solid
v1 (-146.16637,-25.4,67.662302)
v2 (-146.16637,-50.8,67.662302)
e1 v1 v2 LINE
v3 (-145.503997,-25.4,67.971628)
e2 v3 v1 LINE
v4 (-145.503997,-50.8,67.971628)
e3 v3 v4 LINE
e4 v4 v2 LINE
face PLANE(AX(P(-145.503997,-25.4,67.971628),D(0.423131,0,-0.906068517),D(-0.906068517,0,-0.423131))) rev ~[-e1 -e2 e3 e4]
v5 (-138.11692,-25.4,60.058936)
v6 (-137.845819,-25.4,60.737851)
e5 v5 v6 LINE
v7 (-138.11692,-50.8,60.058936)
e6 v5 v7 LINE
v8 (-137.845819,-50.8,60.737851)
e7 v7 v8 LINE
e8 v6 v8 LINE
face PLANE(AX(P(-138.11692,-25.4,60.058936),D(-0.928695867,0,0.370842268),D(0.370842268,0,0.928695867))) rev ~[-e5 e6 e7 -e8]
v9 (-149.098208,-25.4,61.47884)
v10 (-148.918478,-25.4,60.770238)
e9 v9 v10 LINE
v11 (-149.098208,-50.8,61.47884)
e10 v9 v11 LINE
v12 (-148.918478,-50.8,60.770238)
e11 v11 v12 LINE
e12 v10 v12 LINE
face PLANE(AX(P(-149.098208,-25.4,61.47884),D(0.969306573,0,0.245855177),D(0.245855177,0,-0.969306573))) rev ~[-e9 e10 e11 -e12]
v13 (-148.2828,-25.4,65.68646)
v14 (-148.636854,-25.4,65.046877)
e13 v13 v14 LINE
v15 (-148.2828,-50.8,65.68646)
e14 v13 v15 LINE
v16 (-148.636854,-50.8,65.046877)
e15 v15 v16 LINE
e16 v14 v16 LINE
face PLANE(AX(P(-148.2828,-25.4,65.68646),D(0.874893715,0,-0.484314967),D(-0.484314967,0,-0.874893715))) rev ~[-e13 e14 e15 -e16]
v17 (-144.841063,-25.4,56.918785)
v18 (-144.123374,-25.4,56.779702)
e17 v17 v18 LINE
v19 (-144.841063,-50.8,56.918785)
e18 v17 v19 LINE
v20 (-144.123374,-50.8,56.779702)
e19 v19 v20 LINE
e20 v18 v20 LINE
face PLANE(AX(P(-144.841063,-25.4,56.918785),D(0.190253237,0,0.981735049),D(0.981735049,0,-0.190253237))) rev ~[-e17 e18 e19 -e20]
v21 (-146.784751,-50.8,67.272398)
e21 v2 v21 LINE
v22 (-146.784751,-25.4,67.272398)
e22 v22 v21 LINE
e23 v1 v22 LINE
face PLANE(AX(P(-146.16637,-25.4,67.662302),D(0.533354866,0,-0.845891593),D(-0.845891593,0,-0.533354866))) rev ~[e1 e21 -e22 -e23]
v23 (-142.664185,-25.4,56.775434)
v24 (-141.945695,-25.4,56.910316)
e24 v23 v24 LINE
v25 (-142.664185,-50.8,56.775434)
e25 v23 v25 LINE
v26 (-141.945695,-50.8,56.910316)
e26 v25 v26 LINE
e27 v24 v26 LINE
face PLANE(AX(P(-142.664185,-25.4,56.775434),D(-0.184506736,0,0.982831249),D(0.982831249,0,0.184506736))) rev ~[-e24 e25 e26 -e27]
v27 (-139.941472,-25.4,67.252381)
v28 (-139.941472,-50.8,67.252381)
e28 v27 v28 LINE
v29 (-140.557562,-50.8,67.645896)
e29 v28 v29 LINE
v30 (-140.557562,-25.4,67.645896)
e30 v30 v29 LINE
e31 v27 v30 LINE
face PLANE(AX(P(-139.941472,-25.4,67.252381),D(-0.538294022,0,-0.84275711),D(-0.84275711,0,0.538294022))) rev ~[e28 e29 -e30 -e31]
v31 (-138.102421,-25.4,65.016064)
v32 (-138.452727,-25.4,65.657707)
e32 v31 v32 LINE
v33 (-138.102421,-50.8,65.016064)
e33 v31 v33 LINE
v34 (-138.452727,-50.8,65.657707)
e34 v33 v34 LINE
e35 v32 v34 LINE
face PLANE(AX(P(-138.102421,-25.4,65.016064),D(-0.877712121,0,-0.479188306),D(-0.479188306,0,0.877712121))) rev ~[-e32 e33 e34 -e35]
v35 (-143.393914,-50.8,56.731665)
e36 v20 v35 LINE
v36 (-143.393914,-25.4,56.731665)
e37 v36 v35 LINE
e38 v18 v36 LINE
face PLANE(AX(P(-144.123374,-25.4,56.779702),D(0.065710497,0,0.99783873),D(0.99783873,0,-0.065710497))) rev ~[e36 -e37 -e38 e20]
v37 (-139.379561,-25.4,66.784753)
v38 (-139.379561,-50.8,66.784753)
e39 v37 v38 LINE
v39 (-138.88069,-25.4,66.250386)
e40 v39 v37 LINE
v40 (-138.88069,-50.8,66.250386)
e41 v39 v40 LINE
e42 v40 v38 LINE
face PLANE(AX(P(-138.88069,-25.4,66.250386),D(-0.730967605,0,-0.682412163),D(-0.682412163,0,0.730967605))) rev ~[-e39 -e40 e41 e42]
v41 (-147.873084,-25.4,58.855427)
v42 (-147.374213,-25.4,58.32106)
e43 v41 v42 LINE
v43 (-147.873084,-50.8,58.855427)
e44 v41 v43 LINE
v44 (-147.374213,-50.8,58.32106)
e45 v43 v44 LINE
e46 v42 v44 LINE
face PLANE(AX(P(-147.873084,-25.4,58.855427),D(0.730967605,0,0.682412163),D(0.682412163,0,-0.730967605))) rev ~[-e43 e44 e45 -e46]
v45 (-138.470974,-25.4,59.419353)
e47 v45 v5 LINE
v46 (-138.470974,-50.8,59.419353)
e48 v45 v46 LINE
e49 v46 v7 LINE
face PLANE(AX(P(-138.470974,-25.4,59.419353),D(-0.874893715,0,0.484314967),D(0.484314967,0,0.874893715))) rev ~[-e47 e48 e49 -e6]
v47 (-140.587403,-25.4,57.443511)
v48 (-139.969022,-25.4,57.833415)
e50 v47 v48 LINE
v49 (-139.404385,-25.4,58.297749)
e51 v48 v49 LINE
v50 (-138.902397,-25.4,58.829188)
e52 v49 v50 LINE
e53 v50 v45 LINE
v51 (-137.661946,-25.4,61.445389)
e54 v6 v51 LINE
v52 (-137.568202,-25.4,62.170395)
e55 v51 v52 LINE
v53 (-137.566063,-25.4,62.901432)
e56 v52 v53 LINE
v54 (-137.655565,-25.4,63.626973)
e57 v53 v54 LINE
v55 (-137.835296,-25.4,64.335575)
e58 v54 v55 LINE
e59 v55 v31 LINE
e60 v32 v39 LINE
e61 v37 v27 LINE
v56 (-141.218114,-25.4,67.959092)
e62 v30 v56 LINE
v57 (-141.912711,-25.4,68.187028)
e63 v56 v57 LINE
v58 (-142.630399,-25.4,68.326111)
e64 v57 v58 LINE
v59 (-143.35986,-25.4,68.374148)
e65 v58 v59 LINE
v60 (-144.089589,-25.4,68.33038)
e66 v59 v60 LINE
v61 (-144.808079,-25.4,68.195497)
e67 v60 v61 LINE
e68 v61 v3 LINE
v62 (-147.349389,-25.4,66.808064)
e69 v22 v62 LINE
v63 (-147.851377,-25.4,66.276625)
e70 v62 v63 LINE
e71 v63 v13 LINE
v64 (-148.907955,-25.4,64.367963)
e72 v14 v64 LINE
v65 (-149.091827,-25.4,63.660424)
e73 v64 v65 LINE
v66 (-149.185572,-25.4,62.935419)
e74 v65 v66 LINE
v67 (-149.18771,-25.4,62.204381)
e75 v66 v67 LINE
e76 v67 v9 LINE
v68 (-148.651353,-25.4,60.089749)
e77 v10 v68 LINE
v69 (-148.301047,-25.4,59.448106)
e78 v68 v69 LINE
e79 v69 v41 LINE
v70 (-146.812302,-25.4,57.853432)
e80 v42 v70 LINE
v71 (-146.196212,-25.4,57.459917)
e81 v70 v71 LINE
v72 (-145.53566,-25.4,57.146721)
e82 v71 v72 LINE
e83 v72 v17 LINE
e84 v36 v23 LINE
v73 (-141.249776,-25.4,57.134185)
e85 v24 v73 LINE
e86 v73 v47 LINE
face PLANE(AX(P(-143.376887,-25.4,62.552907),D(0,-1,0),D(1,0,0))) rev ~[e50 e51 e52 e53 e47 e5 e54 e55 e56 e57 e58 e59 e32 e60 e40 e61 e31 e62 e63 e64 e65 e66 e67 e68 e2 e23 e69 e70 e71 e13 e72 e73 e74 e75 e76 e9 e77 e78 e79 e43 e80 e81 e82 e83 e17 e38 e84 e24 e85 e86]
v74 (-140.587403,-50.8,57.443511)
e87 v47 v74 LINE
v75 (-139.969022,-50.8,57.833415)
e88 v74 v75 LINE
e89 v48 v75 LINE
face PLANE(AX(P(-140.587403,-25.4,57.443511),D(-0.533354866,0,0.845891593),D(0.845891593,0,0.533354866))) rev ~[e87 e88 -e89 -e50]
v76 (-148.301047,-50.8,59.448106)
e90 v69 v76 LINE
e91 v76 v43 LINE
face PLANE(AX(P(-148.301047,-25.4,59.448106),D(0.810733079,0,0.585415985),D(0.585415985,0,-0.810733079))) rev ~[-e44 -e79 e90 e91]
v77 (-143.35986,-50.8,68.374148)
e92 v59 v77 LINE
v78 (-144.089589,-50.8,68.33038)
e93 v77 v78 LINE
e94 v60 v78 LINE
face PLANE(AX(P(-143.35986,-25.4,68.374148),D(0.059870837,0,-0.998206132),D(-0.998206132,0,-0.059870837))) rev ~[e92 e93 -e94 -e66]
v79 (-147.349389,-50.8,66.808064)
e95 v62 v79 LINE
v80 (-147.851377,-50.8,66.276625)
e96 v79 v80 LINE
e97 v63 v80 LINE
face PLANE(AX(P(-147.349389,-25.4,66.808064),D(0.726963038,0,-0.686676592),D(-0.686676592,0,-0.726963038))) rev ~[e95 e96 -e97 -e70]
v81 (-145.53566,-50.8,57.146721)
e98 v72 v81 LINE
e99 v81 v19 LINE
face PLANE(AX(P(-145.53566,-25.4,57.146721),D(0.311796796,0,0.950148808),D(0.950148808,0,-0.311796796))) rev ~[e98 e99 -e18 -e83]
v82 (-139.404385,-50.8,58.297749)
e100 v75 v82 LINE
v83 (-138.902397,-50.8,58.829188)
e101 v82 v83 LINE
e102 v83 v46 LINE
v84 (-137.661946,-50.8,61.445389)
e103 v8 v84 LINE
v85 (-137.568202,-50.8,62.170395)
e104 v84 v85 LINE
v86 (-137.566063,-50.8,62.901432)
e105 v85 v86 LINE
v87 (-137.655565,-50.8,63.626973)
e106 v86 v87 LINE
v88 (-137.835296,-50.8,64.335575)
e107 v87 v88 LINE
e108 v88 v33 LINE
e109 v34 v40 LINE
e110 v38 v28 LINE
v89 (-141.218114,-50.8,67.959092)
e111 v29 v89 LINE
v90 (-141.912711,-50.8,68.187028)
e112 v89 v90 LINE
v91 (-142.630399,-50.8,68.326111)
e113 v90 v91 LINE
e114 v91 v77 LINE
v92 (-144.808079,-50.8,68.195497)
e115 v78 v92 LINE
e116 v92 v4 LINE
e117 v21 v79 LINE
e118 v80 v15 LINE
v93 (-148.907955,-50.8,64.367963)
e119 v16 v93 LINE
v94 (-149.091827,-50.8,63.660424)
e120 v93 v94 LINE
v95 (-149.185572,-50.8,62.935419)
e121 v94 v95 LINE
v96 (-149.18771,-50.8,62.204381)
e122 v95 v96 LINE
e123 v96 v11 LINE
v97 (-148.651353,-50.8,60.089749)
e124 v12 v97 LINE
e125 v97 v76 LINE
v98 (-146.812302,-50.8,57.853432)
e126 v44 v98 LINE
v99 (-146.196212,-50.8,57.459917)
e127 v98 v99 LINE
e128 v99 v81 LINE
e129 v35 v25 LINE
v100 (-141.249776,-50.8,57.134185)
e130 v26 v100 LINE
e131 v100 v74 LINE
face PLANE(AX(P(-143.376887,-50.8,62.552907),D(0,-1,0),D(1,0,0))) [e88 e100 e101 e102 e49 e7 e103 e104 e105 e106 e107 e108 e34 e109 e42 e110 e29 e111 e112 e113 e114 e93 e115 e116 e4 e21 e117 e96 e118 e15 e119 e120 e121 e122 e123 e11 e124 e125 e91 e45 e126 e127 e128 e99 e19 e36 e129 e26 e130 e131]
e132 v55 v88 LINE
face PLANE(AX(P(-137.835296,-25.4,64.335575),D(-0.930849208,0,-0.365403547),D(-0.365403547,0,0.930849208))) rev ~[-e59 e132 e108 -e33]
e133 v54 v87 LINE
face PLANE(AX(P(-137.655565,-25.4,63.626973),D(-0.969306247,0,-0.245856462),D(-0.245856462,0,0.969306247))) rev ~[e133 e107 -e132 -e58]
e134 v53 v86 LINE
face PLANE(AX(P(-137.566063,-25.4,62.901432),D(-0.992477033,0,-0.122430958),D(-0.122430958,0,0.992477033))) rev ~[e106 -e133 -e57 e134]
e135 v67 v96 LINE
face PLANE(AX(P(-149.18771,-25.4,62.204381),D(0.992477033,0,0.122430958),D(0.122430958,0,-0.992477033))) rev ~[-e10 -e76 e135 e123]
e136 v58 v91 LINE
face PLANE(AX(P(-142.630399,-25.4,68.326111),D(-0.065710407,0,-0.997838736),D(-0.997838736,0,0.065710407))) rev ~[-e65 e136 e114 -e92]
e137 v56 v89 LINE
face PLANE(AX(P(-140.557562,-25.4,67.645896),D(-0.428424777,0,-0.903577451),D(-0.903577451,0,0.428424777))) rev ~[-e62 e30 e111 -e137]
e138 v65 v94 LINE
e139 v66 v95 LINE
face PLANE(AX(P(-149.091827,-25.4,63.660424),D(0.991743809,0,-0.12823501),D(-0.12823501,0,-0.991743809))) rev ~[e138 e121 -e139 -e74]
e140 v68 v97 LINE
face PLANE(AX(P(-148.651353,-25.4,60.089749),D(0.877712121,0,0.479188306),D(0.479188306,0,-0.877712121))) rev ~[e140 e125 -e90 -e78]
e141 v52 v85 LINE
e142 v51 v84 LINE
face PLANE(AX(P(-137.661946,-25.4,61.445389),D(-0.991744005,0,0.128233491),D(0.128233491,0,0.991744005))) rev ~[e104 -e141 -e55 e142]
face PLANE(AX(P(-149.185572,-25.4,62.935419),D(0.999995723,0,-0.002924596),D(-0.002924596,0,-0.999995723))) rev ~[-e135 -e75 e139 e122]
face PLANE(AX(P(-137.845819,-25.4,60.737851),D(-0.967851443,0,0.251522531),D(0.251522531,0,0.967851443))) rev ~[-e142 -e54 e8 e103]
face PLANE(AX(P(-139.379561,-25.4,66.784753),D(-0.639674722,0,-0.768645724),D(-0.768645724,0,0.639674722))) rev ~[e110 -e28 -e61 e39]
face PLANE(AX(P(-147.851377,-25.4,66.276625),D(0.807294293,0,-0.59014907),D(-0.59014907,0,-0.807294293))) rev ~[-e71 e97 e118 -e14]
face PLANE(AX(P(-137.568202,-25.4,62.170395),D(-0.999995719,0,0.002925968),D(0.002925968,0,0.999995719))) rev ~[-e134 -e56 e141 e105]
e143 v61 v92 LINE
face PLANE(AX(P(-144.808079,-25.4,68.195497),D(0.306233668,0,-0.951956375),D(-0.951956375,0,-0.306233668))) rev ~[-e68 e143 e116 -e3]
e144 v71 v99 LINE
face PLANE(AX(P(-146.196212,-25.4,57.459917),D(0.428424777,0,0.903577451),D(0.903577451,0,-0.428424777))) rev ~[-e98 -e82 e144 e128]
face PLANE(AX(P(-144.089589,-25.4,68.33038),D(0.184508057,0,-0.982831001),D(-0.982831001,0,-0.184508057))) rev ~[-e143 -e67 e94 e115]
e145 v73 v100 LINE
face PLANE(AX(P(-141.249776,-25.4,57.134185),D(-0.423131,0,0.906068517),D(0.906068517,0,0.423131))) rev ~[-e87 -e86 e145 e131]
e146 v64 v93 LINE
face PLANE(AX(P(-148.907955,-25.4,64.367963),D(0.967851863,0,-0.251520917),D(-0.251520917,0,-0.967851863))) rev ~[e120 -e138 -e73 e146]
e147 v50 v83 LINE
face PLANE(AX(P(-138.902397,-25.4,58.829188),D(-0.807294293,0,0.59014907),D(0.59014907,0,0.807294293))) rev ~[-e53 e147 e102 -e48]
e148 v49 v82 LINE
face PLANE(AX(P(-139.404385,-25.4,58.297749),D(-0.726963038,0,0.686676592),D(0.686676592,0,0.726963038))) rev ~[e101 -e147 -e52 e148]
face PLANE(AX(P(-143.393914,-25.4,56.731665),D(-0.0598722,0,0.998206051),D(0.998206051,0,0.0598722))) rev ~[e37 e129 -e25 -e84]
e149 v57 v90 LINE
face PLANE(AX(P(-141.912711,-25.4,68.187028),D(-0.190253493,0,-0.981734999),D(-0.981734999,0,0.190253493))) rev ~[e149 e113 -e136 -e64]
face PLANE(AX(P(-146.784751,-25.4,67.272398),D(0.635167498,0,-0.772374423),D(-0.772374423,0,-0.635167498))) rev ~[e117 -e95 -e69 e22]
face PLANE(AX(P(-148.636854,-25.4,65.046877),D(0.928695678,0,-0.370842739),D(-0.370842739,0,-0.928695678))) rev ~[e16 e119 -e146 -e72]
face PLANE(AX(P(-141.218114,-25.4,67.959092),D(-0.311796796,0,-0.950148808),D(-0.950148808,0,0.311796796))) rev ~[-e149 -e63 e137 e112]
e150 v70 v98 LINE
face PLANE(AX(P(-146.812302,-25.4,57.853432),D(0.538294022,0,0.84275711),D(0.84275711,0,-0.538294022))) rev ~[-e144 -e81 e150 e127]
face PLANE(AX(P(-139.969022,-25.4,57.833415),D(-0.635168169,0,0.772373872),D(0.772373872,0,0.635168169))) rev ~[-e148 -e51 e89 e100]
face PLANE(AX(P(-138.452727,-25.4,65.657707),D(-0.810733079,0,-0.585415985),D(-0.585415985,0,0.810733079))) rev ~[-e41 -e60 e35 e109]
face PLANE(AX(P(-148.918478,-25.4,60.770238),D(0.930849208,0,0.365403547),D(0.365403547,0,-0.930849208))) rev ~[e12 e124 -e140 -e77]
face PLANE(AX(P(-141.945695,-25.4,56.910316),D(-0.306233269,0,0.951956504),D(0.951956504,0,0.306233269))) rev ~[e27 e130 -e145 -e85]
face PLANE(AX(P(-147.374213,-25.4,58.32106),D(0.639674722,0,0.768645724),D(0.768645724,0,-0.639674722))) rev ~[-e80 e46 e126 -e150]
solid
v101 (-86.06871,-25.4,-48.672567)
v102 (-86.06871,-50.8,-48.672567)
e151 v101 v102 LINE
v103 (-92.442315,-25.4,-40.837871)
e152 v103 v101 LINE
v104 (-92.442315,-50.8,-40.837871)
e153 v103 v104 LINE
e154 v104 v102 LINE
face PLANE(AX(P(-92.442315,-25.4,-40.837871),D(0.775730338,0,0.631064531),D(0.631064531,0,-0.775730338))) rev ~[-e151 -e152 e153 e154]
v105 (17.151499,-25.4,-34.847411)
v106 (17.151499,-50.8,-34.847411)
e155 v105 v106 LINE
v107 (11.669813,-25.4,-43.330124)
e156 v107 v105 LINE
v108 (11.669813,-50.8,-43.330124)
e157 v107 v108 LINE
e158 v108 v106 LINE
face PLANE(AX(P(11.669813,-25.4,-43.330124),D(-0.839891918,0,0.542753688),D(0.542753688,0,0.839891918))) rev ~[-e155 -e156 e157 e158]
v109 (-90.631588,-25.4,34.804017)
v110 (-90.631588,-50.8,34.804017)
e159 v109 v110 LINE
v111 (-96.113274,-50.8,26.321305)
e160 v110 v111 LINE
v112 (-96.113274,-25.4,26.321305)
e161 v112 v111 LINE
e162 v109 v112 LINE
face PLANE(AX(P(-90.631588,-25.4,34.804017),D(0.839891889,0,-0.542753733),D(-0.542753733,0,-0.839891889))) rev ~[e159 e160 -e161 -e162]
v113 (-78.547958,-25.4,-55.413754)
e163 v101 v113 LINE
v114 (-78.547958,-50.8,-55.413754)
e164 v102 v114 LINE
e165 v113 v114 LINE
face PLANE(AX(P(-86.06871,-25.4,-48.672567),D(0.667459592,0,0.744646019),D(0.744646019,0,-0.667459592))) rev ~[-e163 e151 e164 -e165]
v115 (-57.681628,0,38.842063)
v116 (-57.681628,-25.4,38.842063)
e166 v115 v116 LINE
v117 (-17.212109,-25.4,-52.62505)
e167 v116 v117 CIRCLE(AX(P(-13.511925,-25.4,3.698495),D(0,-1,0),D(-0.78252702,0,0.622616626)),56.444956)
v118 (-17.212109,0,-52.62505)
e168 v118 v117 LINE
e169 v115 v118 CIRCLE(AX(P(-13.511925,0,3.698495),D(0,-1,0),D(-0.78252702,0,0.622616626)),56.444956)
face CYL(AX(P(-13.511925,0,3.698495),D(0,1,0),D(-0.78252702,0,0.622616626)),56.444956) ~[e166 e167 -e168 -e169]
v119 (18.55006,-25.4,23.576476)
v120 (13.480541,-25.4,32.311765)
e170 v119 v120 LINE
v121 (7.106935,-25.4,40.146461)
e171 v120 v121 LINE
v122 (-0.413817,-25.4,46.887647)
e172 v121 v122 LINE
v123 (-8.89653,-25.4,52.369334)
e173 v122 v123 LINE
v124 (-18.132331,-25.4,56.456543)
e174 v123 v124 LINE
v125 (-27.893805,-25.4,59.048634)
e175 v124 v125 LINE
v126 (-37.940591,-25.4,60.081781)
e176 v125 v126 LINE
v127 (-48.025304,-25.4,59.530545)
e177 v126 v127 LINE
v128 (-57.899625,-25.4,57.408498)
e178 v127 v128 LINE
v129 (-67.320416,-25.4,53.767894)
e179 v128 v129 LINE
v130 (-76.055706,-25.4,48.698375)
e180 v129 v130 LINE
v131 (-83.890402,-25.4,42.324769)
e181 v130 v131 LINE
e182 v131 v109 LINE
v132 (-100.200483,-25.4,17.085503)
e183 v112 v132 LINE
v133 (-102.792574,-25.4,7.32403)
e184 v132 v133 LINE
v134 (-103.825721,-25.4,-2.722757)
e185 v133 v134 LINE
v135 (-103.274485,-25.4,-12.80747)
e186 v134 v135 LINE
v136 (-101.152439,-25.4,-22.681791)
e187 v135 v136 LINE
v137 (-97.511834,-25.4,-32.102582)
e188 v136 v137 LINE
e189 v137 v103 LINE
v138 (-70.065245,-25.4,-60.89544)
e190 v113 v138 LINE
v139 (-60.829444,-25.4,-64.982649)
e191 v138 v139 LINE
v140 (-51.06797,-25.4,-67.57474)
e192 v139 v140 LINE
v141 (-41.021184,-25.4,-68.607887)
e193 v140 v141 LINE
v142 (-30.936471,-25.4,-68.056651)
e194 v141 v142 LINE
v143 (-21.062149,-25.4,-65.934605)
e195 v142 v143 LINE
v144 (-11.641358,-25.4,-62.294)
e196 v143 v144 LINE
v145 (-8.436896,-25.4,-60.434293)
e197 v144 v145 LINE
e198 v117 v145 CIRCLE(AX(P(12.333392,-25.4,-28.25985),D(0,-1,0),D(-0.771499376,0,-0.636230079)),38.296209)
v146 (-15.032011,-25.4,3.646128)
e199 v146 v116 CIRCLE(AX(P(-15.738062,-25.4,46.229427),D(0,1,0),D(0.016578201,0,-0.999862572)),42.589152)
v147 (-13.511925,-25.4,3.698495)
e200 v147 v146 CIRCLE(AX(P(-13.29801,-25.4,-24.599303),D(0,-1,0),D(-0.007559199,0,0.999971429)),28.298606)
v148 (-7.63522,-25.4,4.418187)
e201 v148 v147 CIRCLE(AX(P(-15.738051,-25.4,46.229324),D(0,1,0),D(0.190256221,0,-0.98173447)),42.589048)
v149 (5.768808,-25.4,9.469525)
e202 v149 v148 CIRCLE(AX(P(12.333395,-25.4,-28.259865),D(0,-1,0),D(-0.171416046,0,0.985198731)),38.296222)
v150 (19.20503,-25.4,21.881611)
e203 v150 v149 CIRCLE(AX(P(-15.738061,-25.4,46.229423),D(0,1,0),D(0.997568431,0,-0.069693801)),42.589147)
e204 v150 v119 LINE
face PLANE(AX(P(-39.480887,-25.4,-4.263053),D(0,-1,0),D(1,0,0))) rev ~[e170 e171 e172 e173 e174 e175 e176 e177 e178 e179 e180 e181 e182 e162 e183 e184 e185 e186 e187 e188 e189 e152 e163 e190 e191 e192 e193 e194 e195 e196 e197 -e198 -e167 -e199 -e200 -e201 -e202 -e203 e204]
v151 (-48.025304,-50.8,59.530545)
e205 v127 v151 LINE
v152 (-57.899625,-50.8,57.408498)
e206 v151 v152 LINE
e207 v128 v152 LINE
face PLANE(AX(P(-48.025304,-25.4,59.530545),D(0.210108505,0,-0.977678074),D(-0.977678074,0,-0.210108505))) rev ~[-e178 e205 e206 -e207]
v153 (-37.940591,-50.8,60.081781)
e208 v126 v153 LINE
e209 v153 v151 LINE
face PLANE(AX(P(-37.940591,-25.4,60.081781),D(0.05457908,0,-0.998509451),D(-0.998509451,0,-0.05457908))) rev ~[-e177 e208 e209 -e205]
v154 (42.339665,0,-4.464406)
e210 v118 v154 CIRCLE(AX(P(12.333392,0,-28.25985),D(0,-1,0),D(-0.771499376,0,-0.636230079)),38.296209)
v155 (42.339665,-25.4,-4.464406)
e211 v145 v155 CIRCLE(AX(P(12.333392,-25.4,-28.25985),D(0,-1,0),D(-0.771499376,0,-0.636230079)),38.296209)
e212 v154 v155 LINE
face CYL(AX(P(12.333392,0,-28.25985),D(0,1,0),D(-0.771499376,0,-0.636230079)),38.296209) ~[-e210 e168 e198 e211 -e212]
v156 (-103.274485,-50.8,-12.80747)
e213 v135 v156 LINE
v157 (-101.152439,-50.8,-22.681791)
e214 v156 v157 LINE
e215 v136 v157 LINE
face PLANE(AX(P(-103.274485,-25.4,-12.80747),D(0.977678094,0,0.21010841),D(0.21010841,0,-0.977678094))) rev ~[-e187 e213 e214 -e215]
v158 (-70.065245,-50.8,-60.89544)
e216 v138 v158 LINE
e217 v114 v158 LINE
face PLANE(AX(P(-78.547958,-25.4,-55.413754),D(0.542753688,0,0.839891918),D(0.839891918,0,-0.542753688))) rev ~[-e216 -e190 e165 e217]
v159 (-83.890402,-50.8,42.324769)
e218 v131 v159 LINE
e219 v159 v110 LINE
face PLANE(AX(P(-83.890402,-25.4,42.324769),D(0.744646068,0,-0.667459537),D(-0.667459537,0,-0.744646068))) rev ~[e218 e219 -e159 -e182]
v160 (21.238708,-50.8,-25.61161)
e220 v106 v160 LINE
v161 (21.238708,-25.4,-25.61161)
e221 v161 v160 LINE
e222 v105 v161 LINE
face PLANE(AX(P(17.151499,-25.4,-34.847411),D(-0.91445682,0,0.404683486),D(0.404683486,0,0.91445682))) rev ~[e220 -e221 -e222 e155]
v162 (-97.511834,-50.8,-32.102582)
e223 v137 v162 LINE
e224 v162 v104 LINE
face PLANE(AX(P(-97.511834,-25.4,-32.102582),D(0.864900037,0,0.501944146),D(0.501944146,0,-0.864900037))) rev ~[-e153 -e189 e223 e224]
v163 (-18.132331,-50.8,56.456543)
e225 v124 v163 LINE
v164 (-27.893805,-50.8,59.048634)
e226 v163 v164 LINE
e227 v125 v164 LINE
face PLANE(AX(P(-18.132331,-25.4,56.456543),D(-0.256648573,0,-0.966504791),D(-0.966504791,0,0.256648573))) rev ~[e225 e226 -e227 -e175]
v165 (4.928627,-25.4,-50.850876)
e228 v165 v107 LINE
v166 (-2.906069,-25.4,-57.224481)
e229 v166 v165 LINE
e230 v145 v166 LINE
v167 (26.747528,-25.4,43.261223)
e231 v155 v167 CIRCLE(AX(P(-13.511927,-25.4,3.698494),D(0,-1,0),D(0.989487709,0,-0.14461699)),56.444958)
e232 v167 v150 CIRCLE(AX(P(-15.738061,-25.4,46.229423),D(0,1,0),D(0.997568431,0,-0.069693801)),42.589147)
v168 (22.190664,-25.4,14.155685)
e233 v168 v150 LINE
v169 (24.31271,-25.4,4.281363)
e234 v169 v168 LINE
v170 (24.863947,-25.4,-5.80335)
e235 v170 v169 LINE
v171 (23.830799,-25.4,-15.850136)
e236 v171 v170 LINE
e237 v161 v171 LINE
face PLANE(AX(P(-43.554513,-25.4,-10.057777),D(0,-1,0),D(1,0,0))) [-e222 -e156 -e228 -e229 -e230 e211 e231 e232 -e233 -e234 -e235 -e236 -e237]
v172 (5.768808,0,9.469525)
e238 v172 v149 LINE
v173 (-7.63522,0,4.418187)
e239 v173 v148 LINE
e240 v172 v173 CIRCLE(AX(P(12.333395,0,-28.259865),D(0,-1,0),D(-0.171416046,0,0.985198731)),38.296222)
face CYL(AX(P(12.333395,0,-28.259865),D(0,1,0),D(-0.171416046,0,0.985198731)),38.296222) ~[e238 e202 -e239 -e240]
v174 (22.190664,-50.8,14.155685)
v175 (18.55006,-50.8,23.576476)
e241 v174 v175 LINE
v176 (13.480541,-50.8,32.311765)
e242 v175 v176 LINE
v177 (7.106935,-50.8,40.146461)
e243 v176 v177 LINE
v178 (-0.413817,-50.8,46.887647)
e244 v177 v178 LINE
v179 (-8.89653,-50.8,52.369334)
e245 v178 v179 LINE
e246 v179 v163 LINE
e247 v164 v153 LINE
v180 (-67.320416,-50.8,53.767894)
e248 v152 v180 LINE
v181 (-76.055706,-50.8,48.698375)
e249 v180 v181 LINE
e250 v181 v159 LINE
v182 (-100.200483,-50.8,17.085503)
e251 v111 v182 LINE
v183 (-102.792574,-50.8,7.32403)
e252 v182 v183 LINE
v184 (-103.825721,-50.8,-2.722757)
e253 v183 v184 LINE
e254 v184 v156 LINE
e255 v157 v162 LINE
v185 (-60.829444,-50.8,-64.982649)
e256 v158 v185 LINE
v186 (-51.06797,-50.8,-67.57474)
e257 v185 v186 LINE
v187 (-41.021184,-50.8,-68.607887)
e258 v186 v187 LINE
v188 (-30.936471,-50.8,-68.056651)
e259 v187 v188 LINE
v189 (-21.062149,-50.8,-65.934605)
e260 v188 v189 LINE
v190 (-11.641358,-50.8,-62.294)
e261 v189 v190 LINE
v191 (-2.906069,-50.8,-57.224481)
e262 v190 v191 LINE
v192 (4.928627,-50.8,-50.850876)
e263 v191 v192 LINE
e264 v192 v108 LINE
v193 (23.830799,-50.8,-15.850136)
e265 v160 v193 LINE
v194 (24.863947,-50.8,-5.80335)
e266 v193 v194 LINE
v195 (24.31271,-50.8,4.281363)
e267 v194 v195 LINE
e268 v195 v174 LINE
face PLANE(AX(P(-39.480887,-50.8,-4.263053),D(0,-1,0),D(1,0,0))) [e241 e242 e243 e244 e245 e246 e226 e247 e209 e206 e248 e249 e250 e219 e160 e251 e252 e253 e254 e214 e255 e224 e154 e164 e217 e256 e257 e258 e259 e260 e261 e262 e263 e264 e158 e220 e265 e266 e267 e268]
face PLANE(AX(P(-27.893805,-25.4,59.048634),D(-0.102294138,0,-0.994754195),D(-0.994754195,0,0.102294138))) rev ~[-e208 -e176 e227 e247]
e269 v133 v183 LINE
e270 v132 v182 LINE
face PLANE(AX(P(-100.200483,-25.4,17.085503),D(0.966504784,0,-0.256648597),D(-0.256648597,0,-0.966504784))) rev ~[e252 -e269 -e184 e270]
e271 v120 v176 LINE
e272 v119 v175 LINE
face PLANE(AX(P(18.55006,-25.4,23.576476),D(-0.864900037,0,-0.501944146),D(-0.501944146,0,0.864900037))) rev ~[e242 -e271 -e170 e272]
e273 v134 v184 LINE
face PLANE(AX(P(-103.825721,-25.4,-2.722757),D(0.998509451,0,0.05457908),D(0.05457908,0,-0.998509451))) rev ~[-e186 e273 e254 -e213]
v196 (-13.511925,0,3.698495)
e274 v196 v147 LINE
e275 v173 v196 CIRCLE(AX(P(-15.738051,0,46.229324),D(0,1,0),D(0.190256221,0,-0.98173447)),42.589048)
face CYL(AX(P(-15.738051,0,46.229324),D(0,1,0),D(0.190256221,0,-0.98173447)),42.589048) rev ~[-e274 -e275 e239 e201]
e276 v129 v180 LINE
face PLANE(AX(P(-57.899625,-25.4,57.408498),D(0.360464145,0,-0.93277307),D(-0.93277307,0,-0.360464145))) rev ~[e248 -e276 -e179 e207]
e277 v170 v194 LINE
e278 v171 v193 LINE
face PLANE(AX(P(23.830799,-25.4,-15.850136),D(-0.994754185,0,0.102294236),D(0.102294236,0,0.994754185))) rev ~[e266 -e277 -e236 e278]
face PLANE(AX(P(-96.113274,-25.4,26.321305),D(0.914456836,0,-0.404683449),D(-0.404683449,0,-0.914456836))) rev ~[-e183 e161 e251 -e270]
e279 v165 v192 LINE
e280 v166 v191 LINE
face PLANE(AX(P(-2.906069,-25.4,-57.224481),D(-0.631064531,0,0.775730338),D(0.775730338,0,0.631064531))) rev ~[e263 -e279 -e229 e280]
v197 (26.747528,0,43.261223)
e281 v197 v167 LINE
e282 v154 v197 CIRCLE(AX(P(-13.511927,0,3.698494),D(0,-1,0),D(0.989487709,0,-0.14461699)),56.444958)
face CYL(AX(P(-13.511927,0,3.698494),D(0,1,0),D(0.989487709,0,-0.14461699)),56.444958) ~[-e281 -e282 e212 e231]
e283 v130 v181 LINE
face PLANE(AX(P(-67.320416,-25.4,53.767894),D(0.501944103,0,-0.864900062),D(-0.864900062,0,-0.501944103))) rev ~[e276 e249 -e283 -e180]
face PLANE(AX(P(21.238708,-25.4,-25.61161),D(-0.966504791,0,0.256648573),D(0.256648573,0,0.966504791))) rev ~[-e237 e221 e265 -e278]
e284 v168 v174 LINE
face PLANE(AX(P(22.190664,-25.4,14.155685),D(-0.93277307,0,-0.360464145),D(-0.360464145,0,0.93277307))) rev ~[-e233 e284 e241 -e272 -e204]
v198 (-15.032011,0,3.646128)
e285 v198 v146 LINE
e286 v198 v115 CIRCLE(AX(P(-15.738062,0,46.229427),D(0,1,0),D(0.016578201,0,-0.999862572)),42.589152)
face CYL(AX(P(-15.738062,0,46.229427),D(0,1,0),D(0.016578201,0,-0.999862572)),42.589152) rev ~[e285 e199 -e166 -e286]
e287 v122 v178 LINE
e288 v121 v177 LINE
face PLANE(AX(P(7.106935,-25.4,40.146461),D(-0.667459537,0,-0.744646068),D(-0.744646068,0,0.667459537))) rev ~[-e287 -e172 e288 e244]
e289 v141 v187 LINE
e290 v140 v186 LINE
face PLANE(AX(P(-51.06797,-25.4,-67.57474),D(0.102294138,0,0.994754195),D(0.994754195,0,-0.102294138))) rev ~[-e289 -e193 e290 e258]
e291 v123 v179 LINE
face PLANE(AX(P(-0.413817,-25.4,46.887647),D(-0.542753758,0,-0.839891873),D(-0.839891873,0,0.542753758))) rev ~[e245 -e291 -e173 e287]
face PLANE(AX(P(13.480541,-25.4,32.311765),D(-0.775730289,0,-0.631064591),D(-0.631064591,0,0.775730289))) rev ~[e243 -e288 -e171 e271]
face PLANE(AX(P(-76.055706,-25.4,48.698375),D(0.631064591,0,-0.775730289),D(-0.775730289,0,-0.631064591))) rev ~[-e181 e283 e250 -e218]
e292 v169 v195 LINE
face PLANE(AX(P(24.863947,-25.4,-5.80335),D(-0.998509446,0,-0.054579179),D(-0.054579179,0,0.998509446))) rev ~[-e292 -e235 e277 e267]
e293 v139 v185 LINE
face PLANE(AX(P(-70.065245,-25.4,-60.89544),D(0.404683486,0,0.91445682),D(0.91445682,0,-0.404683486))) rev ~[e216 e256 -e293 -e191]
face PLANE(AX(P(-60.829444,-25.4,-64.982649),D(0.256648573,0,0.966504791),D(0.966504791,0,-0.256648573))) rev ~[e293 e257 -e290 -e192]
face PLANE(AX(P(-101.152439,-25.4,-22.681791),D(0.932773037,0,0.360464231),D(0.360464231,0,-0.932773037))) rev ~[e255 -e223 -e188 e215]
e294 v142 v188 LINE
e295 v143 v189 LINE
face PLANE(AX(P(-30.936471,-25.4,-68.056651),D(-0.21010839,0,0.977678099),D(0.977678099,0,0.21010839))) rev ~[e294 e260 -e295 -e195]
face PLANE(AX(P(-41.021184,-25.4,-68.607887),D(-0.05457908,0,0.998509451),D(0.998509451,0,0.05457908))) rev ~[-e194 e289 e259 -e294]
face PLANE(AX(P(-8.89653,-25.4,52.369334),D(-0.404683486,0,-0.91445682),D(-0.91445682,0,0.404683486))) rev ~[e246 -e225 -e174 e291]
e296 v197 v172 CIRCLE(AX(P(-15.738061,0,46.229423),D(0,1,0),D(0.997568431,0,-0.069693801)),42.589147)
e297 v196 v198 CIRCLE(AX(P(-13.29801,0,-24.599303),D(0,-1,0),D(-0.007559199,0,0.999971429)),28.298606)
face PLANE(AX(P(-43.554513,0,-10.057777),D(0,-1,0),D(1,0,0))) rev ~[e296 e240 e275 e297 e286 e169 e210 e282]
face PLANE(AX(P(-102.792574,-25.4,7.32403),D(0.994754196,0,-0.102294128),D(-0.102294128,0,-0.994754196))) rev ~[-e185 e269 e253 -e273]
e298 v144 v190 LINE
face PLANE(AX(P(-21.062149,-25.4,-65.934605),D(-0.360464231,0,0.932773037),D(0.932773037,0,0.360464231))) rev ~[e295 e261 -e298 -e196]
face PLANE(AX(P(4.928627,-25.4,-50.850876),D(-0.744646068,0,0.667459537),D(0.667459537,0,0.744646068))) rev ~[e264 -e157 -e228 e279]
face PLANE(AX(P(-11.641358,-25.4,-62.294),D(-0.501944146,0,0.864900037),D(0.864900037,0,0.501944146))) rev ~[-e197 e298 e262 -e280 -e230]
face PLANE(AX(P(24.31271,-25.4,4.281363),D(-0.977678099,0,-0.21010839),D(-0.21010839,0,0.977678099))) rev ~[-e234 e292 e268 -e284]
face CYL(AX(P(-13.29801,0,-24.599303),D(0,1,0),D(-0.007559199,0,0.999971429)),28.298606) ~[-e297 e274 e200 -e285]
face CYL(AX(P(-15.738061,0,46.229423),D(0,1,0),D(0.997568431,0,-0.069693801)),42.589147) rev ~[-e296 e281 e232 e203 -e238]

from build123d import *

# Parameters (mm, degrees)
F1_DEPTH = 25.4
F3_DEPTH = 25.4


with BuildPart() as f1:
    # F0 (on Front) → F1 (new body)
    with BuildSketch(Plane.XZ):
        with BuildLine():
            ThreePointArc((-15.032011, 3.646128), (-42.845656, 13.381075), (-57.681628, 38.842063))
            ThreePointArc((-57.681628, 38.842063), (-65.130136, -19.139923), (-17.212109, -52.62505))
            ThreePointArc((-17.212109, -52.62505), (-41.574986, -23.503346), (-15.032011, 3.646128))
        make_face()
        with BuildLine():
            ThreePointArc((-15.032011, 3.646128), (-41.574986, -23.503346), (-17.212109, -52.62505))
            ThreePointArc((-17.212109, -52.62505), (21.981795, -40.190329), (42.339665, -4.464406))
            ThreePointArc((42.339665, -4.464406), (25.968523, 7.526778), (5.768808, 9.469525))
            ThreePointArc((5.768808, 9.469525), (-0.719315, 6.376283), (-7.63522, 4.418187))
            ThreePointArc((-7.63522, 4.418187), (-10.561051, 3.956097), (-13.511925, 3.698495))
            ThreePointArc((-13.511925, 3.698495), (-14.271734, 3.665525), (-15.032011, 3.646128))
        make_face()
        with BuildLine():
            ThreePointArc((42.339665, -4.464406), (21.981795, -40.190329), (-17.212109, -52.62505))
            ThreePointArc((-17.212109, -52.62505), (36.414816, -58.0371), (42.339665, -4.464406))
        make_face()
        with BuildLine():
            ThreePointArc((-13.511925, 3.698495), (-14.27232, 3.682526), (-15.032011, 3.646128))
            ThreePointArc((-15.032011, 3.646128), (-14.271734, 3.665525), (-13.511925, 3.698495))
        make_face()
        with BuildLine():
            ThreePointArc((5.768808, 9.469525), (25.968523, 7.526778), (42.339665, -4.464406))
            ThreePointArc((42.339665, -4.464406), (40.142218, 21.227498), (26.747528, 43.261223))
            ThreePointArc((26.747528, 43.261223), (20.4452, 23.765961), (5.768808, 9.469525))
        make_face()
        with BuildLine():
            ThreePointArc((-7.63522, 4.418187), (-0.719315, 6.376283), (5.768808, 9.469525))
            ThreePointArc((5.768808, 9.469525), (-1.171482, 7.576136), (-7.63522, 4.418187))
        make_face()
    extrude(amount=F1_DEPTH)

    # F2 (on face) → F3 (join)
    with BuildSketch(Plane.XZ.offset(25.4)):
        Polygon((-21.062149, -65.934605), (-11.641358, -62.294), (-2.906069, -57.224481), (4.928627, -50.850876), (11.669813, -43.330124), (17.151499, -34.847411), (21.238708, -25.61161), (23.830799, -15.850136), (24.863947, -5.80335), (24.31271, 4.281363), (22.190664, 14.155685), (18.55006, 23.576476), (13.480541, 32.311765), (7.106935, 40.146461), (-0.413817, 46.887647), (-8.89653, 52.369334), (-18.132331, 56.456543), (-27.893805, 59.048634), (-37.940591, 60.081781), (-48.025304, 59.530545), (-57.899625, 57.408498), (-67.320416, 53.767894), (-76.055706, 48.698375), (-83.890402, 42.324769), (-90.631588, 34.804017), (-96.113274, 26.321305), (-100.200483, 17.085503), (-102.792574, 7.32403), (-103.825721, -2.722757), (-103.274485, -12.80747), (-101.152439, -22.681791), (-97.511834, -32.102582), (-92.442315, -40.837871), (-86.06871, -48.672567), (-78.547958, -55.413754), (-70.065245, -60.89544), (-60.829444, -64.982649), (-51.06797, -67.57474), (-41.021184, -68.607887), (-30.936471, -68.056651), align=None)
        Polygon((-139.969022, 57.833415), (-139.404385, 58.297749), (-138.902397, 58.829188), (-138.470974, 59.419353), (-138.11692, 60.058936), (-137.845819, 60.737851), (-137.661946, 61.445389), (-137.568202, 62.170395), (-137.566063, 62.901432), (-137.655565, 63.626973), (-137.835296, 64.335575), (-138.102421, 65.016064), (-138.452727, 65.657707), (-138.88069, 66.250386), (-139.379561, 66.784753), (-139.941472, 67.252381), (-140.557562, 67.645896), (-141.218114, 67.959092), (-141.912711, 68.187028), (-142.630399, 68.326111), (-143.35986, 68.374148), (-144.089589, 68.33038), (-144.808079, 68.195497), (-145.503997, 67.971628), (-146.16637, 67.662302), (-146.784751, 67.272398), (-147.349389, 66.808064), (-147.851377, 66.276625), (-148.2828, 65.68646), (-148.636854, 65.046877), (-148.907955, 64.367963), (-149.091827, 63.660424), (-149.185572, 62.935419), (-149.18771, 62.204381), (-149.098208, 61.47884), (-148.918478, 60.770238), (-148.651353, 60.089749), (-148.301047, 59.448106), (-147.873084, 58.855427), (-147.374213, 58.32106), (-146.812302, 57.853432), (-146.196212, 57.459917), (-145.53566, 57.146721), (-144.841063, 56.918785), (-144.123374, 56.779702), (-143.393914, 56.731665), (-142.664185, 56.775434), (-141.945695, 56.910316), (-141.249776, 57.134185), (-140.587403, 57.443511), align=None)
    extrude(amount=F3_DEPTH)


solid = f1.part
